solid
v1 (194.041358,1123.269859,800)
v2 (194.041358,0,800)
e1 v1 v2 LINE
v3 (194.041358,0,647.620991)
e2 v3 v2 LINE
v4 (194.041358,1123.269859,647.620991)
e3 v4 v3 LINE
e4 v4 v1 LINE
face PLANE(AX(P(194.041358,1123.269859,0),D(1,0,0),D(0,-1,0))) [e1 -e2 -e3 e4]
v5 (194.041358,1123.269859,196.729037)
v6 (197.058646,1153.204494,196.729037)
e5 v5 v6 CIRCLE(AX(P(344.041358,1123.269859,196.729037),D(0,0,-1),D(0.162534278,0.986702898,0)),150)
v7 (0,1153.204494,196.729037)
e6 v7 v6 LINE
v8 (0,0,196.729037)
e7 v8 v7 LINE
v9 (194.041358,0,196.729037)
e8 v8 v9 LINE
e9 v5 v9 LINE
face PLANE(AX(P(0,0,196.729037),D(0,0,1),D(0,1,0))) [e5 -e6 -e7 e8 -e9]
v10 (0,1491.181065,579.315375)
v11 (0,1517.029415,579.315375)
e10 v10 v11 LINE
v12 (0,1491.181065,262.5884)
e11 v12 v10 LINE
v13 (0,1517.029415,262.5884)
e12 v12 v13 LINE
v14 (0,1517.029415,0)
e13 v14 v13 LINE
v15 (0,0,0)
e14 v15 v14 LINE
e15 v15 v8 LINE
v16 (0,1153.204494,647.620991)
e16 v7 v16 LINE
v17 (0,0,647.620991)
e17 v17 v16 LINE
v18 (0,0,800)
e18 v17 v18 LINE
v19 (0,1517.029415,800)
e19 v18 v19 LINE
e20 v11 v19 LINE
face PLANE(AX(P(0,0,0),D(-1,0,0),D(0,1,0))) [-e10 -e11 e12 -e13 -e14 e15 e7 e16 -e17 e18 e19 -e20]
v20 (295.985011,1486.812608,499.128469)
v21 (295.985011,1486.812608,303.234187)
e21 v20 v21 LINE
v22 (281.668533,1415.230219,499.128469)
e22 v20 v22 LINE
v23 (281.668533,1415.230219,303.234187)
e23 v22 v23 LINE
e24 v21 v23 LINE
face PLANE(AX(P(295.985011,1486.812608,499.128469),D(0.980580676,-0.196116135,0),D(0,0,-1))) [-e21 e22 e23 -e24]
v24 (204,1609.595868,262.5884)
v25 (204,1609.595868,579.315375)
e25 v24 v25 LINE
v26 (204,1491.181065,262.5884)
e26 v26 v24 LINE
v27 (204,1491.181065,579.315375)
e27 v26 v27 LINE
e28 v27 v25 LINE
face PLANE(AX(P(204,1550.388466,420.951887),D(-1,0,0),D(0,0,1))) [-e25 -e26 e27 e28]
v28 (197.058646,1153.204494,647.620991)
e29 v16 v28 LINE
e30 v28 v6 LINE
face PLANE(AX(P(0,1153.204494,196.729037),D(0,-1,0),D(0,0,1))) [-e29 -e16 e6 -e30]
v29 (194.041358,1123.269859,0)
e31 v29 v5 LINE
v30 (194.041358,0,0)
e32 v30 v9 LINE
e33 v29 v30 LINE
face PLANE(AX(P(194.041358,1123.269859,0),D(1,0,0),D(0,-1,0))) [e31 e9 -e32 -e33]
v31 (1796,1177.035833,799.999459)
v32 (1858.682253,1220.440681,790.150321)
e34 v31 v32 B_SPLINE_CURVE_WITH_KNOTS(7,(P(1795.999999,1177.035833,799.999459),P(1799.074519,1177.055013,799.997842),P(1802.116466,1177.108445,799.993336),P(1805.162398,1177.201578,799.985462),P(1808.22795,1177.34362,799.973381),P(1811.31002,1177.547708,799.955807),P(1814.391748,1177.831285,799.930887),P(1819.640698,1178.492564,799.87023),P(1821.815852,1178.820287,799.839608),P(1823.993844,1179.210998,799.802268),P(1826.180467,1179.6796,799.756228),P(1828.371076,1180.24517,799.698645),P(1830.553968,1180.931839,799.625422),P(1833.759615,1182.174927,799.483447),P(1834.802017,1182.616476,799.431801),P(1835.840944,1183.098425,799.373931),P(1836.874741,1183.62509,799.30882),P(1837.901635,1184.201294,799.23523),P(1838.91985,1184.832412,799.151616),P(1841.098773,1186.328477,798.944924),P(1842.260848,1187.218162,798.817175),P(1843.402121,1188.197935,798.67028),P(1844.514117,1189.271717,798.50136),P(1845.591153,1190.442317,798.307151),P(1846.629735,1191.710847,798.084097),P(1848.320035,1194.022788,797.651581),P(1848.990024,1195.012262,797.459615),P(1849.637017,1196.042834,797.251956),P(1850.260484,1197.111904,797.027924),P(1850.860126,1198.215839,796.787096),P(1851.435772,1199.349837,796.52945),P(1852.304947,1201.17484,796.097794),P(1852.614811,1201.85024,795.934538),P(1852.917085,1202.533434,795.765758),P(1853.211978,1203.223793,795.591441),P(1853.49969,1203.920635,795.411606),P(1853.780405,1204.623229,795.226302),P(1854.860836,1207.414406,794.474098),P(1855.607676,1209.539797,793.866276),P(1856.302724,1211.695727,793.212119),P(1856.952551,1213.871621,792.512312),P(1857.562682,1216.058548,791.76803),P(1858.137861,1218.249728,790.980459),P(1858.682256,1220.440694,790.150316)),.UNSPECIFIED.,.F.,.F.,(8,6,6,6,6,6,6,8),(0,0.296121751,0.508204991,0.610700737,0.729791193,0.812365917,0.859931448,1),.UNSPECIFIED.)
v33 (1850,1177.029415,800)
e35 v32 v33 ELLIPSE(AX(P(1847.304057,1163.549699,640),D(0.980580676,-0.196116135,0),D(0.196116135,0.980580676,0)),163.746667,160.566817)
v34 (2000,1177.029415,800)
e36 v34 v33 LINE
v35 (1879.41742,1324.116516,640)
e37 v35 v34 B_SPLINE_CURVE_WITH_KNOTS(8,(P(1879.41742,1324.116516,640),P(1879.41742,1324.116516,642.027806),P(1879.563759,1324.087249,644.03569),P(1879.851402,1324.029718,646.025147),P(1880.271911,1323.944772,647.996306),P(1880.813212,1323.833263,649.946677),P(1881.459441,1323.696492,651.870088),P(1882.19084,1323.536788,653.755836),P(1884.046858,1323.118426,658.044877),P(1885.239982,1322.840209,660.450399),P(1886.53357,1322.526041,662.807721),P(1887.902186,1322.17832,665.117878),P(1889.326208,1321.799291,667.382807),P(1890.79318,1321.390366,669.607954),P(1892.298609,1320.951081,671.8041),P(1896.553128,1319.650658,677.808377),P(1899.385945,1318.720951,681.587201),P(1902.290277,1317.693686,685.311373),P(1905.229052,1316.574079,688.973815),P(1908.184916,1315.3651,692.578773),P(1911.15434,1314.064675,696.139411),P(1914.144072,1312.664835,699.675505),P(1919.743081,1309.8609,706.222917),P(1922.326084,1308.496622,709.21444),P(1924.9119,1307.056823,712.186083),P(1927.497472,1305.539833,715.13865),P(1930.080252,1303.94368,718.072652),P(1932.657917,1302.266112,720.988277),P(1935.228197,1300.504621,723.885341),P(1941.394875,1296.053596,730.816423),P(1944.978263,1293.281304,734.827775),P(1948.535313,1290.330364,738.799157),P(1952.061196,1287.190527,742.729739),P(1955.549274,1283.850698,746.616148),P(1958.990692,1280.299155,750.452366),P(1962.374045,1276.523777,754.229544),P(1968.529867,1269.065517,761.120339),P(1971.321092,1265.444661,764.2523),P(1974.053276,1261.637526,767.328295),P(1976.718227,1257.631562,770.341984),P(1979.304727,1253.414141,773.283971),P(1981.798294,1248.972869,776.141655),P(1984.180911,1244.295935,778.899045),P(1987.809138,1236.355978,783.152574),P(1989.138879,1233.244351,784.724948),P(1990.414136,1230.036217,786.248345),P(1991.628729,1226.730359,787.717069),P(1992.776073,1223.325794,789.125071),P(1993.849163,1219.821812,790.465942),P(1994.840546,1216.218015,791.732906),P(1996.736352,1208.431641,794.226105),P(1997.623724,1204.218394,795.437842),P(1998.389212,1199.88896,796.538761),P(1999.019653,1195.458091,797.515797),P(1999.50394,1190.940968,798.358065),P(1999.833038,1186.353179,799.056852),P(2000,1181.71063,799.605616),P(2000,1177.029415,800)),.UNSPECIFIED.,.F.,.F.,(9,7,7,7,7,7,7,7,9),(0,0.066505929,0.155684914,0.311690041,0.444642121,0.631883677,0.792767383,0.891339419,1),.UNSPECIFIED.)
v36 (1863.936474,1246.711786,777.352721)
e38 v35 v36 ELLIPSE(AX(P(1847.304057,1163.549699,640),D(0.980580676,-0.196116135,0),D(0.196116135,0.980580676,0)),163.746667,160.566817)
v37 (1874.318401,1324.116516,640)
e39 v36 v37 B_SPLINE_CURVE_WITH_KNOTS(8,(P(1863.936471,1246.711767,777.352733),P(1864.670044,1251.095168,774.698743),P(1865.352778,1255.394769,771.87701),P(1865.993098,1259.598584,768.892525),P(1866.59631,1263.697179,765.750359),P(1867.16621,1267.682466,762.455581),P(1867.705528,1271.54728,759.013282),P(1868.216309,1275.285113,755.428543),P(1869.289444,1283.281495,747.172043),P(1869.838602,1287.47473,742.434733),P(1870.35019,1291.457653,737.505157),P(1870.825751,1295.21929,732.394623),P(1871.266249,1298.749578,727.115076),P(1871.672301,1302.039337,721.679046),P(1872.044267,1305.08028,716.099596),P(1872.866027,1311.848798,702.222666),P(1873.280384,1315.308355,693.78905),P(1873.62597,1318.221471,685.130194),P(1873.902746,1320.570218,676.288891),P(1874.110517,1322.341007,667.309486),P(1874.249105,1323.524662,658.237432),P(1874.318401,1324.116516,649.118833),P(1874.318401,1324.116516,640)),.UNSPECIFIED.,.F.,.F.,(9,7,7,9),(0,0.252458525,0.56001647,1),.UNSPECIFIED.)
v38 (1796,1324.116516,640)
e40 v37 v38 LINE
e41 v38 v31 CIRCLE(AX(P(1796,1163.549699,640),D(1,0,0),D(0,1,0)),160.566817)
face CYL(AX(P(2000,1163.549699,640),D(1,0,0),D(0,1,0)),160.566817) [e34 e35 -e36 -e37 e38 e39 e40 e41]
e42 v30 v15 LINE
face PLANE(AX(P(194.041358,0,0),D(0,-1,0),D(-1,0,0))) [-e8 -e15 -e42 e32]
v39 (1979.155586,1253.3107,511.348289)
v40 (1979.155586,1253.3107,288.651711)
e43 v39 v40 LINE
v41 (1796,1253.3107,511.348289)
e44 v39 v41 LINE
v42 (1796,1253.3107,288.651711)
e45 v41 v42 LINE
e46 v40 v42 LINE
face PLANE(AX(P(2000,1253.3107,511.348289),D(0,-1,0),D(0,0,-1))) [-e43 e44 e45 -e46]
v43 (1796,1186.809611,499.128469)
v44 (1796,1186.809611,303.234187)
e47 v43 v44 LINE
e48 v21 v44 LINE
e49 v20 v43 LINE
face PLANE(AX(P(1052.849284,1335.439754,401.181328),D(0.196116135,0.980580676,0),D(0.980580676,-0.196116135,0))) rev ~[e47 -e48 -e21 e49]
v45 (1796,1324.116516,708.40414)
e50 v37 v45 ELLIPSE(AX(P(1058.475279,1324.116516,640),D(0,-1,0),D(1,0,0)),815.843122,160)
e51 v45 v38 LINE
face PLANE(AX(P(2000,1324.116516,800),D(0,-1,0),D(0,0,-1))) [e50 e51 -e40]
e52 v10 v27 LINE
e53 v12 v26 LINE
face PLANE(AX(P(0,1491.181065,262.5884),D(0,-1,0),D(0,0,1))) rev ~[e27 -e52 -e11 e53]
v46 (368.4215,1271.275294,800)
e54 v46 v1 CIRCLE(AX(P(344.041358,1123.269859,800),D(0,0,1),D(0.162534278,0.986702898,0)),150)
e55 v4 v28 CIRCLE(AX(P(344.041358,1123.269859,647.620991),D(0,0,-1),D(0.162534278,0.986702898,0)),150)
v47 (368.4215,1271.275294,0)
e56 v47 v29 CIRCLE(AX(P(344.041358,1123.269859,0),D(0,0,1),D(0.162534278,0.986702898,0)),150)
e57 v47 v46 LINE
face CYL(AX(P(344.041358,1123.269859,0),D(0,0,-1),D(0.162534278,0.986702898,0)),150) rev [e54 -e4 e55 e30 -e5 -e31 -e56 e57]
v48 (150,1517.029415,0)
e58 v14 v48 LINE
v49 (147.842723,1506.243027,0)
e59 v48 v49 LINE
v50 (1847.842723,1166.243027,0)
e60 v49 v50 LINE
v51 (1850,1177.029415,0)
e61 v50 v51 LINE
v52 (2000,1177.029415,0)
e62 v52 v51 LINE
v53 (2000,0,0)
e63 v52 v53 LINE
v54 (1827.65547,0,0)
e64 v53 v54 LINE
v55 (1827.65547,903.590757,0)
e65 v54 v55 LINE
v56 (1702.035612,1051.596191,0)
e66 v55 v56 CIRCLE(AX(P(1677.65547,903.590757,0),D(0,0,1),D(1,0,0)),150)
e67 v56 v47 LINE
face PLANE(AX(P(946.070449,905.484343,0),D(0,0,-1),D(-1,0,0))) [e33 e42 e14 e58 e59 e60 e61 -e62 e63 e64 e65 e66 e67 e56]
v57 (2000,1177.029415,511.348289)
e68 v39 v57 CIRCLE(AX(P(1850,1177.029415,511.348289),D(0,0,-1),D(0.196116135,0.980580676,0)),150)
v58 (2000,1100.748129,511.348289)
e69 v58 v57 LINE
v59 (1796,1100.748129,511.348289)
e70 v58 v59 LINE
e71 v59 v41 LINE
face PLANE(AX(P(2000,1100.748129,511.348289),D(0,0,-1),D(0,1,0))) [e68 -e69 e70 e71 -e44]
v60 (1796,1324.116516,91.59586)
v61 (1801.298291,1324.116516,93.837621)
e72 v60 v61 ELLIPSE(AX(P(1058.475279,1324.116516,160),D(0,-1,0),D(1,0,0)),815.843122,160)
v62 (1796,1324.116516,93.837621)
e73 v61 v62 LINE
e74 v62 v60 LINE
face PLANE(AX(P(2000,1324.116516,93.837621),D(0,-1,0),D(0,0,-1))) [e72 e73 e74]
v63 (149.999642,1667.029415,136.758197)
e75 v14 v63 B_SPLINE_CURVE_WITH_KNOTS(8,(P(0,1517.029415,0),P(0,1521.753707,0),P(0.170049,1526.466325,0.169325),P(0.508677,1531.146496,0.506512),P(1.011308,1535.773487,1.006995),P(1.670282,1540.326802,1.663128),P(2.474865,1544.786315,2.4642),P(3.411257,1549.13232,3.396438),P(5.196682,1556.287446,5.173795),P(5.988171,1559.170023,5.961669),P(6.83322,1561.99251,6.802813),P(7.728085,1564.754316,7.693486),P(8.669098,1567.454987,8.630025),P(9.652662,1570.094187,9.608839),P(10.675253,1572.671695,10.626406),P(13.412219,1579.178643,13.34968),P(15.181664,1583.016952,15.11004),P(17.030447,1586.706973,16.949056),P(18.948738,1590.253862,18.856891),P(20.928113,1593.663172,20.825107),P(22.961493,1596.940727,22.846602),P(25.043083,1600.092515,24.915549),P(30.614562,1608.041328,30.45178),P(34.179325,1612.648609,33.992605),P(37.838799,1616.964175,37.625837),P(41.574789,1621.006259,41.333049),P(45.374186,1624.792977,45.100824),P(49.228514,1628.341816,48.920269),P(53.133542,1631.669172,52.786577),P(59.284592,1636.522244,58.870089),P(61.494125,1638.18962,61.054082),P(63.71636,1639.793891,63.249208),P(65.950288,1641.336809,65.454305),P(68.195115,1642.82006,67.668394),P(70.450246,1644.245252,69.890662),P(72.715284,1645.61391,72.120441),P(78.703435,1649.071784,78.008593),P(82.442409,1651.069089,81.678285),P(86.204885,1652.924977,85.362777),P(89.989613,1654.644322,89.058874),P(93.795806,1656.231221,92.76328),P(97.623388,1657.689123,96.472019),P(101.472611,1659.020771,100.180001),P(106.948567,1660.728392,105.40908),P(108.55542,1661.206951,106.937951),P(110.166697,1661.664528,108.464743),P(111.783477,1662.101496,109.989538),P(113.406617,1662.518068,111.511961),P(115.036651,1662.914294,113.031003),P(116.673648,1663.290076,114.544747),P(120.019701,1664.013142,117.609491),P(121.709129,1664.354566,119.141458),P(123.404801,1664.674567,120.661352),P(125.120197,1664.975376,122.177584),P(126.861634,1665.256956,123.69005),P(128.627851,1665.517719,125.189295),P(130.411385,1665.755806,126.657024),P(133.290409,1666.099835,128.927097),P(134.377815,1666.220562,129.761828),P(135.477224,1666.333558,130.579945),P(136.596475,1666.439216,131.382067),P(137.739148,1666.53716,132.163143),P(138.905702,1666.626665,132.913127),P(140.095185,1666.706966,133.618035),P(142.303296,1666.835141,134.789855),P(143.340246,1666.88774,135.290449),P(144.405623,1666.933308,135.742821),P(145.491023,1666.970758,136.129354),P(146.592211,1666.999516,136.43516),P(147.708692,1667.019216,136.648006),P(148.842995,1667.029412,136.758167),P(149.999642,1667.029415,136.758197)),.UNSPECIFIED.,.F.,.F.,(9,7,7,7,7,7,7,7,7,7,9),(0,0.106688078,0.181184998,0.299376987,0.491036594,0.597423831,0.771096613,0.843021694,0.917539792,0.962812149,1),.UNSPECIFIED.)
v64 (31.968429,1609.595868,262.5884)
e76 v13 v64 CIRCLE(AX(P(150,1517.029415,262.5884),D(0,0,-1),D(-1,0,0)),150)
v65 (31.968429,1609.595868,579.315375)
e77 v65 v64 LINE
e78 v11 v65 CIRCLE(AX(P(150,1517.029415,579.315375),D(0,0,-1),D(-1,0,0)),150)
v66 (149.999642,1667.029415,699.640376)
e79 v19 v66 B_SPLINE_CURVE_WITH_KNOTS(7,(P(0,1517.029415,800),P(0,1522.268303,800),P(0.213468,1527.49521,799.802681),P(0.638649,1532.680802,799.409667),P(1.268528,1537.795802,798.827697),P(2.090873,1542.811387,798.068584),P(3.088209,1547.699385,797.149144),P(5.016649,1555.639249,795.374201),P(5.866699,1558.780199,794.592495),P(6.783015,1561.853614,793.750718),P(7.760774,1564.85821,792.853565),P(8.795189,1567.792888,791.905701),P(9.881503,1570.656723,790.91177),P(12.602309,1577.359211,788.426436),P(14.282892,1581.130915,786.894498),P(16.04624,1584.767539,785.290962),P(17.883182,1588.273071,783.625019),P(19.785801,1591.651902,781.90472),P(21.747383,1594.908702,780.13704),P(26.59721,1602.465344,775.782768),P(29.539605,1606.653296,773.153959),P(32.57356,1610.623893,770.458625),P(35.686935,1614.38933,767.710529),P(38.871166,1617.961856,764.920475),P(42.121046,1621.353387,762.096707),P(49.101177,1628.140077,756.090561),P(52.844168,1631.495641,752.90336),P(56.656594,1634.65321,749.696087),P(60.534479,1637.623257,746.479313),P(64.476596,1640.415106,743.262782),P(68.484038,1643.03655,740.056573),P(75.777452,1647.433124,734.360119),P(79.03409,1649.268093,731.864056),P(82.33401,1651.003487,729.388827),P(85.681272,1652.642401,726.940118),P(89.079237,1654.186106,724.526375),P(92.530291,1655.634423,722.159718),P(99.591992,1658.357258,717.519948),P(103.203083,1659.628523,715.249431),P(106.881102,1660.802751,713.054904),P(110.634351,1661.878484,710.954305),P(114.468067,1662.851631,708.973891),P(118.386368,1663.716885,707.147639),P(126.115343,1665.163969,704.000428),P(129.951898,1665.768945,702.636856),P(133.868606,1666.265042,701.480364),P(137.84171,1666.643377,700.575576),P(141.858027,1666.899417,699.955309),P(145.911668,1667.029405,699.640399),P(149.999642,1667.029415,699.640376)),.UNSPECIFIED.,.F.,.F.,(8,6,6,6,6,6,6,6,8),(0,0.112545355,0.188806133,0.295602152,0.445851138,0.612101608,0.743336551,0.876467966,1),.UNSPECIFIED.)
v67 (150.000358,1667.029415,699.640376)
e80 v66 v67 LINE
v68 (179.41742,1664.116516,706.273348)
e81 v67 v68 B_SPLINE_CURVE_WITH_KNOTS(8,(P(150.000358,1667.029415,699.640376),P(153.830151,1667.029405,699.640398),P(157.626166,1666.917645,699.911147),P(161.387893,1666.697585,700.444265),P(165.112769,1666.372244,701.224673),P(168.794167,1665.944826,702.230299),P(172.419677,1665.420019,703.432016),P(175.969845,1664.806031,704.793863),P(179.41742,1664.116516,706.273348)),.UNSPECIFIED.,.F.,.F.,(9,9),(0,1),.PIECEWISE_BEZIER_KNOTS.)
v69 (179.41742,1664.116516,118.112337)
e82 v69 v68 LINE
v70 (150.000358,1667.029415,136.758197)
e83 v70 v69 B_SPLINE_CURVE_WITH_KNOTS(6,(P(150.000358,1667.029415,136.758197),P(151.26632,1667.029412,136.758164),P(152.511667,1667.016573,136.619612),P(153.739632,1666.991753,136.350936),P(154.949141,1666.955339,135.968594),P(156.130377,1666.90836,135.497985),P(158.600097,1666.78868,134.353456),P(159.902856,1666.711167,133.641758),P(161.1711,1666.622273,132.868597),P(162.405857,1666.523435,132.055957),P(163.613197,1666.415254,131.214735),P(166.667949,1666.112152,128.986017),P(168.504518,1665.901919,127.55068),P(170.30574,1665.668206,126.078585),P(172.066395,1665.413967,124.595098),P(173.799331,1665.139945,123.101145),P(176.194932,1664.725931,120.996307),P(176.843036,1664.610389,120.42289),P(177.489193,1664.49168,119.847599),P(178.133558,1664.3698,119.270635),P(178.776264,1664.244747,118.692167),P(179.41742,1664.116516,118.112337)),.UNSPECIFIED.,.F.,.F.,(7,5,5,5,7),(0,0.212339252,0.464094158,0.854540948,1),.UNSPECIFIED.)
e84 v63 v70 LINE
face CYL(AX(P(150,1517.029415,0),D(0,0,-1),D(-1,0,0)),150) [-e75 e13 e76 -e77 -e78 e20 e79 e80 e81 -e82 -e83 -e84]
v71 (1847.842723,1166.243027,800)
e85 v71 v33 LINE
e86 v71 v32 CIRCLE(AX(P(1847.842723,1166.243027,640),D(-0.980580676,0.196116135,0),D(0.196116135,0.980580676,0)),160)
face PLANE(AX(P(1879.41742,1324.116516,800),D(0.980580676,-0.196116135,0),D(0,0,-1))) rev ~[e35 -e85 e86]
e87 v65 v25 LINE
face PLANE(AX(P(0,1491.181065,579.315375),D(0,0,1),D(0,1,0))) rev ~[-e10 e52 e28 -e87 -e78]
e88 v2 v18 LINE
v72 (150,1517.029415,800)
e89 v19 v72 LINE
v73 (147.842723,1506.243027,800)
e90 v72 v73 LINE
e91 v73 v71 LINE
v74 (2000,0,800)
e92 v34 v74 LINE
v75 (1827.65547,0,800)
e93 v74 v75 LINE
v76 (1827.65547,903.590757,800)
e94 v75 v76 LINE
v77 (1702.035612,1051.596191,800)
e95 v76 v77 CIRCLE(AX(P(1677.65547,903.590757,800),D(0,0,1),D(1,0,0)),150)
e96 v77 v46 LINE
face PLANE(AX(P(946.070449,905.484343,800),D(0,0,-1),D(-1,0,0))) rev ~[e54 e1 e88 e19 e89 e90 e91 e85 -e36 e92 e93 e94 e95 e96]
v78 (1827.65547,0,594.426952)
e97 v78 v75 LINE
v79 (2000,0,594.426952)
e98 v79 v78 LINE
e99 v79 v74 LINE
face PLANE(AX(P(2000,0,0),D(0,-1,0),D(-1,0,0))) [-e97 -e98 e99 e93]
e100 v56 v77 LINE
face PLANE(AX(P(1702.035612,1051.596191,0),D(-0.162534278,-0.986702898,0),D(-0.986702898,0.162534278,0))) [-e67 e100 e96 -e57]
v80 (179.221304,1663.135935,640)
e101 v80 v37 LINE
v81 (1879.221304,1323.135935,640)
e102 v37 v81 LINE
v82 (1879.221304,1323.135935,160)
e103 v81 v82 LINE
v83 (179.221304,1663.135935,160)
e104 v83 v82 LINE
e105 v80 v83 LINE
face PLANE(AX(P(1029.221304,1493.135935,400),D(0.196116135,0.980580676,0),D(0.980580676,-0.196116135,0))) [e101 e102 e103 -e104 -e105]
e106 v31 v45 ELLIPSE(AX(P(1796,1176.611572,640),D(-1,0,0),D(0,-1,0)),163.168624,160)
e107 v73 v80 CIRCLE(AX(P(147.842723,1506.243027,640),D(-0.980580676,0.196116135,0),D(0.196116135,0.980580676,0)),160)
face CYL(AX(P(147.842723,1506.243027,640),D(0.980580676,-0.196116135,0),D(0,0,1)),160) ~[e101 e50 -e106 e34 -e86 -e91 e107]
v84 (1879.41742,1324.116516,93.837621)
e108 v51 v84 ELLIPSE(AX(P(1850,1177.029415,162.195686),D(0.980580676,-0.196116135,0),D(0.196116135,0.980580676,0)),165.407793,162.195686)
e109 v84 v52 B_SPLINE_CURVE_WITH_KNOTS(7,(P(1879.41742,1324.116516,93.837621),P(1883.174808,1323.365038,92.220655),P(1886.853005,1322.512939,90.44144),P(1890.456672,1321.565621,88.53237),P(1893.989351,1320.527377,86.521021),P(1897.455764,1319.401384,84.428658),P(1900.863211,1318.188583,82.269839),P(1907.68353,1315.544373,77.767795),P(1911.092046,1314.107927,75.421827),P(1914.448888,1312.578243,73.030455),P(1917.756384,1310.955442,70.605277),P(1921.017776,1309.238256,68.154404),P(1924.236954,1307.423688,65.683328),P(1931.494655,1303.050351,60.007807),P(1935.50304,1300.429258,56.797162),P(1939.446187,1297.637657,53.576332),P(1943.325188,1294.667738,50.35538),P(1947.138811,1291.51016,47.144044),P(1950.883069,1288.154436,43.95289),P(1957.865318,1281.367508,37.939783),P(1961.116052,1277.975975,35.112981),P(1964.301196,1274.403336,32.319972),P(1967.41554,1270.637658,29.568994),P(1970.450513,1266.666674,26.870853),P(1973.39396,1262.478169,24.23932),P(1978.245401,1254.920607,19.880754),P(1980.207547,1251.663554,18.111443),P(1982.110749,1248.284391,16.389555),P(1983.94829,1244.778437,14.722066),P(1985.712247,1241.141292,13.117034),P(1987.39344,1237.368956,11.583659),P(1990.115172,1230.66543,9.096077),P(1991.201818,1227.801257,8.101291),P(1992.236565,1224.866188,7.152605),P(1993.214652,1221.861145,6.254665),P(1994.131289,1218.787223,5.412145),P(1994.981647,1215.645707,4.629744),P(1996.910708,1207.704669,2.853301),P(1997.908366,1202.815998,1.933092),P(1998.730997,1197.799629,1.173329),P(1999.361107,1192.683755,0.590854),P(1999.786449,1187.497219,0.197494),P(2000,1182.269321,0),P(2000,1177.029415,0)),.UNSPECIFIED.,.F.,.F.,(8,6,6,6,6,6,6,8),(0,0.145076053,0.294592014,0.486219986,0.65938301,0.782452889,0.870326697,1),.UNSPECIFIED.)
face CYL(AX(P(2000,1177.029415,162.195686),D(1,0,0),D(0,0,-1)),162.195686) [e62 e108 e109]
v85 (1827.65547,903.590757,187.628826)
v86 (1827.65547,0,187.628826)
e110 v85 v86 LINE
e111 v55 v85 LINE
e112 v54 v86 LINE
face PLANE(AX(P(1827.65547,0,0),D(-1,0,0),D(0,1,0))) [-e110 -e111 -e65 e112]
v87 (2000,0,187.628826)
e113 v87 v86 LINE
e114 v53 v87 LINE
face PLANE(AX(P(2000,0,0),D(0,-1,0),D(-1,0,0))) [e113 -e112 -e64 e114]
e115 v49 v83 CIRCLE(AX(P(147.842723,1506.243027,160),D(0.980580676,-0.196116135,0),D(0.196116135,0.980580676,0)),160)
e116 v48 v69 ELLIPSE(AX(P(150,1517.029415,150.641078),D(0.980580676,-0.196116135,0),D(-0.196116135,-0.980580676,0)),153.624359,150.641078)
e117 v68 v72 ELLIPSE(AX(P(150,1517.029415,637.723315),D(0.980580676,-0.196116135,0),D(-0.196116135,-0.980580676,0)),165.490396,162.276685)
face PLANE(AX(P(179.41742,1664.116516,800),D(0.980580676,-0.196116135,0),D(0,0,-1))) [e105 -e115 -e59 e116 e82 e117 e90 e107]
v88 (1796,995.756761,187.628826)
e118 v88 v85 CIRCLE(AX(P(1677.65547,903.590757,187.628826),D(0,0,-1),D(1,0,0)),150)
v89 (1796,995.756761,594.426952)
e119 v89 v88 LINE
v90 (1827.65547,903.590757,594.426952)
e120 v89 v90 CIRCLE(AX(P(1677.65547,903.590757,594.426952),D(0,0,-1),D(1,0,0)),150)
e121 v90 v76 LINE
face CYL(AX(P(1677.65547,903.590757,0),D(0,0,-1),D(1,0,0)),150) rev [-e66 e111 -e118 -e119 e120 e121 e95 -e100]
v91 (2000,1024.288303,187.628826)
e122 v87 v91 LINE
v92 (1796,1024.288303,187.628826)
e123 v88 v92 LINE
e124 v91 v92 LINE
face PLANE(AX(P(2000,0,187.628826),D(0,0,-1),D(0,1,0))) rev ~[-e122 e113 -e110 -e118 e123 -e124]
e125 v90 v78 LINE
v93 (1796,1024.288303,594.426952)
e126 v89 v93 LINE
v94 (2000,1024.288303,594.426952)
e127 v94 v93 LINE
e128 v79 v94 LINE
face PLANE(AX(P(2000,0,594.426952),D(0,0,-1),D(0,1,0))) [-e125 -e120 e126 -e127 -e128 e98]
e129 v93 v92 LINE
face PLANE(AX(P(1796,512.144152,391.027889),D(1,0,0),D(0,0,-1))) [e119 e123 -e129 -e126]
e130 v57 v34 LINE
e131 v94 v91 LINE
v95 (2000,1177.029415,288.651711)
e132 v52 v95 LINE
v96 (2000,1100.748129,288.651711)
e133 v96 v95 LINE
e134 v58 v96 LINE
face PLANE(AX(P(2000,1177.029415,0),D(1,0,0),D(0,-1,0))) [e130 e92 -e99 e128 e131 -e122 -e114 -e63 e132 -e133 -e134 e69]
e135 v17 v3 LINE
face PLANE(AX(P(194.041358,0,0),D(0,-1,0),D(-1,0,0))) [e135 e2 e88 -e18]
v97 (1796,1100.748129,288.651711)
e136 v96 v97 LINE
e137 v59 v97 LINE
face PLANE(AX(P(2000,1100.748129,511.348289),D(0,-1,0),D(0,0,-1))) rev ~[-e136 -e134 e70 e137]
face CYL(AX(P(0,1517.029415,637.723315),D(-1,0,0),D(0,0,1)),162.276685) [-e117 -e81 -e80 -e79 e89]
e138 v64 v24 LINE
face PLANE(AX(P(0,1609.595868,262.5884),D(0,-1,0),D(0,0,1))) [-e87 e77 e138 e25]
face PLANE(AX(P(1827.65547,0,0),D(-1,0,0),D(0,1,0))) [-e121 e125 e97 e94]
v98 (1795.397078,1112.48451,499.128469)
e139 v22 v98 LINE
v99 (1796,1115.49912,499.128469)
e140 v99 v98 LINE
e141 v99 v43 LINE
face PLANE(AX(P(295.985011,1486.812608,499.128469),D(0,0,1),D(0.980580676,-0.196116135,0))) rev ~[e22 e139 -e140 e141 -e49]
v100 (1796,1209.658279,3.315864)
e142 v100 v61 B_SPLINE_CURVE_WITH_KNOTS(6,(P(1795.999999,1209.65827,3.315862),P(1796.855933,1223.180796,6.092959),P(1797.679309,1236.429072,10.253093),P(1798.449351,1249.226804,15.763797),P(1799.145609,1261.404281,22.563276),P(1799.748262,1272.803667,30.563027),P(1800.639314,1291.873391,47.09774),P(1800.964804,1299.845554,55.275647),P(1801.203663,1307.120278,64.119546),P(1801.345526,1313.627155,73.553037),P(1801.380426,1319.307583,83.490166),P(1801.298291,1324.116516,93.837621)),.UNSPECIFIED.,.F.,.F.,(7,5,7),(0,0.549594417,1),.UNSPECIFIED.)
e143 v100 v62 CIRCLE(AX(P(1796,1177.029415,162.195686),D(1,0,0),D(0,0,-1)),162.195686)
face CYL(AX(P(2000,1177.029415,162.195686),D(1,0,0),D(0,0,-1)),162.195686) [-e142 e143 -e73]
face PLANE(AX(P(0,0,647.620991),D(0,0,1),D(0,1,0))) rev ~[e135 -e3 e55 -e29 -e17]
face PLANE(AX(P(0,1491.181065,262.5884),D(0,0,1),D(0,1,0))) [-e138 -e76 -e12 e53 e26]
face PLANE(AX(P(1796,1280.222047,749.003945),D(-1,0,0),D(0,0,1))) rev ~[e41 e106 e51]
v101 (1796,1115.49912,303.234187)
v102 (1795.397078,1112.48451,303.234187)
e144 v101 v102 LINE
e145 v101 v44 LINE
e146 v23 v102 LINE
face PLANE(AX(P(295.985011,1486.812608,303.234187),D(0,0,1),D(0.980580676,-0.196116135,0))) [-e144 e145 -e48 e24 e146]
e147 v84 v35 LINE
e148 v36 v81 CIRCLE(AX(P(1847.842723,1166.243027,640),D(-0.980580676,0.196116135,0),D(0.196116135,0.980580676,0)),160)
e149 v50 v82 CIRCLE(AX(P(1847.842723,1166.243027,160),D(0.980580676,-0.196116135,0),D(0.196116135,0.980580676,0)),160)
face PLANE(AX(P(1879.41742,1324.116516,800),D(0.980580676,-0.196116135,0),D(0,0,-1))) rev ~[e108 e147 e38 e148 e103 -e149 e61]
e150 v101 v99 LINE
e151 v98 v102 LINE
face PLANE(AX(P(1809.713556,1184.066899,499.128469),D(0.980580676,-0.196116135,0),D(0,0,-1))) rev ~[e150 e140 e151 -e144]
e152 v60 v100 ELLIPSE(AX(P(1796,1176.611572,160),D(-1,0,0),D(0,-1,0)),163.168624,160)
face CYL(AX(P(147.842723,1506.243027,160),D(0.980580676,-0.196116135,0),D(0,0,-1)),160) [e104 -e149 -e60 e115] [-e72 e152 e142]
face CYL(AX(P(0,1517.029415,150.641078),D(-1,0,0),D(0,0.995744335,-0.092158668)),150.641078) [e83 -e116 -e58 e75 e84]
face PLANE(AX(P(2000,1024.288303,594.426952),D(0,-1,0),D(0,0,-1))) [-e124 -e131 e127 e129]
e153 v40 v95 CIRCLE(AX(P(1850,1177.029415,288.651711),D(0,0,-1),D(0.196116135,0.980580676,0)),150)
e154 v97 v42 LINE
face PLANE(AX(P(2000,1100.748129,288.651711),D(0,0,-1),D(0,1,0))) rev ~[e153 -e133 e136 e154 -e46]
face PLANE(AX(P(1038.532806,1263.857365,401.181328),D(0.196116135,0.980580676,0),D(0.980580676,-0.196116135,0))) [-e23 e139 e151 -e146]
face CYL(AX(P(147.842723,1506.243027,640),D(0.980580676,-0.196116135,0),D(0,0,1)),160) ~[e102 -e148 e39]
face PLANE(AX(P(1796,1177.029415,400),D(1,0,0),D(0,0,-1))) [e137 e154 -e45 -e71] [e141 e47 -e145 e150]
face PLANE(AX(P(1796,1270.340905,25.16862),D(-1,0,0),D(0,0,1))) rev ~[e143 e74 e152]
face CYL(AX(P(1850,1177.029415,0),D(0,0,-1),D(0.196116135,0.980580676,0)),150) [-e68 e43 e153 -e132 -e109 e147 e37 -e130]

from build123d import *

# Parameters (mm, degrees)
SALIENTE_EXTRUIR1_DEPTH = 800
CROQUIS2_W              = 450.891954089
CROQUIS2_H              = 1153.204494417
CORTAR_EXTRUIR1_DEPTH   = 479
CROQUIS6_W              = 1733.666634621
CROQUIS6_H              = 800
CORTAR_EXTRUIR4_DEPTH   = 1
REDONDEO1_R             = 160
CORTAR_EXTRUIR5_DEPTH   = 204
CORTAR_EXTRUIR6_DEPTH   = 204
CROQUIS9_W              = 1543.706277585
CROQUIS9_H              = 195.894282261
CORTAR_EXTRUIR7_DEPTH   = 73
CROQUIS10_W             = 406.798125856
CROQUIS10_H             = 1024.288303457
CORTAR_EXTRUIR8_DEPTH   = 204
CROQUIS11_W             = 316.726975088
CROQUIS11_H             = 118.414803419
CORTAR_EXTRUIR9_DEPTH   = 204
CROQUIS13_W             = 222.696577042
CROQUIS13_H             = 152.562571667
CORTAR_EXTRUIR10_DEPTH  = 204


with BuildPart() as part:
    # Croquis1 → Saliente-Extruir1 (new body)
    with BuildSketch(Plane.XY):
        with BuildLine():
            Line((0, 0), (0, 1517.029414592))
            ThreePointArc((0, 1517.029414592), (54.901664159, 1633.030735793), (179.417420271, 1664.116515946))
            Line((179.417420271, 1664.116515946), (1879.417420271, 1324.116515946))
            ThreePointArc((1879.417420271, 1324.116515946), (1966.001321201, 1272.127750433), (2000, 1177.029414592))
            Line((2000, 1177.029414592), (2000, 0))
            Line((2000, 0), (1827.655470466, 0))
            Line((1827.655470466, 0), (1827.655470466, 903.590756555))
            ThreePointArc((1827.655470466, 903.590756555), (1792.016786618, 1000.655113392), (1702.035612225, 1051.596191212))
            Line((1702.035612225, 1051.596191212), (368.421499763, 1271.275294141))
            ThreePointArc((368.421499763, 1271.275294141), (246.977001167, 1237.631175636), (194.041358004, 1123.269859484))
            Line((194.041358004, 1123.269859484), (194.041358004, 0))
            Line((194.041358004, 0), (0, 0))
        make_face()
    extrude(amount=SALIENTE_EXTRUIR1_DEPTH)

    # Croquis2 → Cortar-Extruir1 (cut)
    with BuildSketch(Plane.ZY):
        with Locations((422.175014136, 576.602247208)):
            Rectangle(CROQUIS2_W, CROQUIS2_H)
    extrude(amount=-CORTAR_EXTRUIR1_DEPTH, mode=Mode.SUBTRACT)

    # Croquis6 → Cortar-Extruir4 (cut)
    with BuildSketch(Plane(origin=(326.923076923, 1634.615384615, 0), x_dir=(0.9805806756909202, -0.19611613513818404, 0), z_dir=(0.19611613513818404, 0.9805806756909202, 0))):
        with Locations((716.406472984, -400)):
            Rectangle(CROQUIS6_W, CROQUIS6_H)
    extrude(amount=-CORTAR_EXTRUIR4_DEPTH, mode=Mode.SUBTRACT)

    # Redondeo1
    redondeo1_edges = [part.edges().sort_by_distance(p)[0] for p in [
        (1029.221304136, 1493.13593527, 0),
        (1029.221304136, 1493.13593527, 800),
    ]]
    fillet(redondeo1_edges, radius=REDONDEO1_R)

    # Croquis7 → Cortar-Extruir5 (cut)
    with BuildSketch(Plane.ZY):
        with BuildLine():
            Line((0, 1517.029414592), (0, 1667.029414592))
            Line((0, 1667.029414592), (136.758196867, 1667.029414592))
            ThreePointArc((136.758196867, 1667.029414592), (39.321568117, 1618.521784269), (0, 1517.029414592))
        make_face()
        with BuildLine():
            ThreePointArc((800, 1517.029414592), (772.596251195, 1607.268062357), (699.64037564, 1667.029414592))
            Line((699.64037564, 1667.029414592), (800, 1667.029414592))
            Line((800, 1667.029414592), (800, 1517.029414592))
        make_face()
    extrude(amount=-CORTAR_EXTRUIR5_DEPTH, mode=Mode.SUBTRACT)

    # Croquis8 → Cortar-Extruir6 (cut)
    with BuildSketch(Plane(origin=(2000, 0, 0), x_dir=(0, 0, -1), z_dir=(1, 0, 0))):
        with BuildLine():
            ThreePointArc((-640, 1324.116515946), (-748.667630167, 1281.75735047), (-800, 1177.029414592))
            Line((-800, 1177.029414592), (-800, 1324.116515946))
            Line((-800, 1324.116515946), (-640, 1324.116515946))
        make_face()
        with BuildLine():
            ThreePointArc((0, 1177.029414592), (-25.457205923, 1264.264892498), (-93.837620587, 1324.116515946))
            Line((-93.837620587, 1324.116515946), (0, 1324.116515946))
            Line((0, 1324.116515946), (0, 1177.029414592))
        make_face()
    extrude(amount=-CORTAR_EXTRUIR6_DEPTH, mode=Mode.SUBTRACT)

    # Croquis9 → Cortar-Extruir7 (cut)
    with BuildSketch(Plane(origin=(297.309540517, 1486.547702586, 0), x_dir=(0.9805806756909202, -0.19611613513818407, 0), z_dir=(0.19611613513818407, 0.9805806756909202, 0))):
        with Locations((770.502378662, -401.181328028)):
            Rectangle(CROQUIS9_W, CROQUIS9_H)
    extrude(amount=-CORTAR_EXTRUIR7_DEPTH, mode=Mode.SUBTRACT)

    # Croquis10 → Cortar-Extruir8 (cut)
    with BuildSketch(Plane(origin=(2000, 0, 0), x_dir=(0, 0, -1), z_dir=(1, 0, 0))):
        with Locations((-391.027888744, 512.144151728)):
            Rectangle(CROQUIS10_W, CROQUIS10_H)
    extrude(amount=-CORTAR_EXTRUIR8_DEPTH, mode=Mode.SUBTRACT)

    # Croquis11 → Cortar-Extruir9 (cut)
    with BuildSketch(Plane.ZY):
        with Locations((420.951887064, 1550.388466328)):
            Rectangle(CROQUIS11_W, CROQUIS11_H)
    extrude(amount=-CORTAR_EXTRUIR9_DEPTH, mode=Mode.SUBTRACT)

    # Croquis13 → Cortar-Extruir10 (cut)
    with BuildSketch(Plane(origin=(2000, 0, 0), x_dir=(0, 0, -1), z_dir=(1, 0, 0))):
        with Locations((-400, 1177.029414592)):
            Rectangle(CROQUIS13_W, CROQUIS13_H)
    extrude(amount=-CORTAR_EXTRUIR10_DEPTH, mode=Mode.SUBTRACT)


solid = part.part
